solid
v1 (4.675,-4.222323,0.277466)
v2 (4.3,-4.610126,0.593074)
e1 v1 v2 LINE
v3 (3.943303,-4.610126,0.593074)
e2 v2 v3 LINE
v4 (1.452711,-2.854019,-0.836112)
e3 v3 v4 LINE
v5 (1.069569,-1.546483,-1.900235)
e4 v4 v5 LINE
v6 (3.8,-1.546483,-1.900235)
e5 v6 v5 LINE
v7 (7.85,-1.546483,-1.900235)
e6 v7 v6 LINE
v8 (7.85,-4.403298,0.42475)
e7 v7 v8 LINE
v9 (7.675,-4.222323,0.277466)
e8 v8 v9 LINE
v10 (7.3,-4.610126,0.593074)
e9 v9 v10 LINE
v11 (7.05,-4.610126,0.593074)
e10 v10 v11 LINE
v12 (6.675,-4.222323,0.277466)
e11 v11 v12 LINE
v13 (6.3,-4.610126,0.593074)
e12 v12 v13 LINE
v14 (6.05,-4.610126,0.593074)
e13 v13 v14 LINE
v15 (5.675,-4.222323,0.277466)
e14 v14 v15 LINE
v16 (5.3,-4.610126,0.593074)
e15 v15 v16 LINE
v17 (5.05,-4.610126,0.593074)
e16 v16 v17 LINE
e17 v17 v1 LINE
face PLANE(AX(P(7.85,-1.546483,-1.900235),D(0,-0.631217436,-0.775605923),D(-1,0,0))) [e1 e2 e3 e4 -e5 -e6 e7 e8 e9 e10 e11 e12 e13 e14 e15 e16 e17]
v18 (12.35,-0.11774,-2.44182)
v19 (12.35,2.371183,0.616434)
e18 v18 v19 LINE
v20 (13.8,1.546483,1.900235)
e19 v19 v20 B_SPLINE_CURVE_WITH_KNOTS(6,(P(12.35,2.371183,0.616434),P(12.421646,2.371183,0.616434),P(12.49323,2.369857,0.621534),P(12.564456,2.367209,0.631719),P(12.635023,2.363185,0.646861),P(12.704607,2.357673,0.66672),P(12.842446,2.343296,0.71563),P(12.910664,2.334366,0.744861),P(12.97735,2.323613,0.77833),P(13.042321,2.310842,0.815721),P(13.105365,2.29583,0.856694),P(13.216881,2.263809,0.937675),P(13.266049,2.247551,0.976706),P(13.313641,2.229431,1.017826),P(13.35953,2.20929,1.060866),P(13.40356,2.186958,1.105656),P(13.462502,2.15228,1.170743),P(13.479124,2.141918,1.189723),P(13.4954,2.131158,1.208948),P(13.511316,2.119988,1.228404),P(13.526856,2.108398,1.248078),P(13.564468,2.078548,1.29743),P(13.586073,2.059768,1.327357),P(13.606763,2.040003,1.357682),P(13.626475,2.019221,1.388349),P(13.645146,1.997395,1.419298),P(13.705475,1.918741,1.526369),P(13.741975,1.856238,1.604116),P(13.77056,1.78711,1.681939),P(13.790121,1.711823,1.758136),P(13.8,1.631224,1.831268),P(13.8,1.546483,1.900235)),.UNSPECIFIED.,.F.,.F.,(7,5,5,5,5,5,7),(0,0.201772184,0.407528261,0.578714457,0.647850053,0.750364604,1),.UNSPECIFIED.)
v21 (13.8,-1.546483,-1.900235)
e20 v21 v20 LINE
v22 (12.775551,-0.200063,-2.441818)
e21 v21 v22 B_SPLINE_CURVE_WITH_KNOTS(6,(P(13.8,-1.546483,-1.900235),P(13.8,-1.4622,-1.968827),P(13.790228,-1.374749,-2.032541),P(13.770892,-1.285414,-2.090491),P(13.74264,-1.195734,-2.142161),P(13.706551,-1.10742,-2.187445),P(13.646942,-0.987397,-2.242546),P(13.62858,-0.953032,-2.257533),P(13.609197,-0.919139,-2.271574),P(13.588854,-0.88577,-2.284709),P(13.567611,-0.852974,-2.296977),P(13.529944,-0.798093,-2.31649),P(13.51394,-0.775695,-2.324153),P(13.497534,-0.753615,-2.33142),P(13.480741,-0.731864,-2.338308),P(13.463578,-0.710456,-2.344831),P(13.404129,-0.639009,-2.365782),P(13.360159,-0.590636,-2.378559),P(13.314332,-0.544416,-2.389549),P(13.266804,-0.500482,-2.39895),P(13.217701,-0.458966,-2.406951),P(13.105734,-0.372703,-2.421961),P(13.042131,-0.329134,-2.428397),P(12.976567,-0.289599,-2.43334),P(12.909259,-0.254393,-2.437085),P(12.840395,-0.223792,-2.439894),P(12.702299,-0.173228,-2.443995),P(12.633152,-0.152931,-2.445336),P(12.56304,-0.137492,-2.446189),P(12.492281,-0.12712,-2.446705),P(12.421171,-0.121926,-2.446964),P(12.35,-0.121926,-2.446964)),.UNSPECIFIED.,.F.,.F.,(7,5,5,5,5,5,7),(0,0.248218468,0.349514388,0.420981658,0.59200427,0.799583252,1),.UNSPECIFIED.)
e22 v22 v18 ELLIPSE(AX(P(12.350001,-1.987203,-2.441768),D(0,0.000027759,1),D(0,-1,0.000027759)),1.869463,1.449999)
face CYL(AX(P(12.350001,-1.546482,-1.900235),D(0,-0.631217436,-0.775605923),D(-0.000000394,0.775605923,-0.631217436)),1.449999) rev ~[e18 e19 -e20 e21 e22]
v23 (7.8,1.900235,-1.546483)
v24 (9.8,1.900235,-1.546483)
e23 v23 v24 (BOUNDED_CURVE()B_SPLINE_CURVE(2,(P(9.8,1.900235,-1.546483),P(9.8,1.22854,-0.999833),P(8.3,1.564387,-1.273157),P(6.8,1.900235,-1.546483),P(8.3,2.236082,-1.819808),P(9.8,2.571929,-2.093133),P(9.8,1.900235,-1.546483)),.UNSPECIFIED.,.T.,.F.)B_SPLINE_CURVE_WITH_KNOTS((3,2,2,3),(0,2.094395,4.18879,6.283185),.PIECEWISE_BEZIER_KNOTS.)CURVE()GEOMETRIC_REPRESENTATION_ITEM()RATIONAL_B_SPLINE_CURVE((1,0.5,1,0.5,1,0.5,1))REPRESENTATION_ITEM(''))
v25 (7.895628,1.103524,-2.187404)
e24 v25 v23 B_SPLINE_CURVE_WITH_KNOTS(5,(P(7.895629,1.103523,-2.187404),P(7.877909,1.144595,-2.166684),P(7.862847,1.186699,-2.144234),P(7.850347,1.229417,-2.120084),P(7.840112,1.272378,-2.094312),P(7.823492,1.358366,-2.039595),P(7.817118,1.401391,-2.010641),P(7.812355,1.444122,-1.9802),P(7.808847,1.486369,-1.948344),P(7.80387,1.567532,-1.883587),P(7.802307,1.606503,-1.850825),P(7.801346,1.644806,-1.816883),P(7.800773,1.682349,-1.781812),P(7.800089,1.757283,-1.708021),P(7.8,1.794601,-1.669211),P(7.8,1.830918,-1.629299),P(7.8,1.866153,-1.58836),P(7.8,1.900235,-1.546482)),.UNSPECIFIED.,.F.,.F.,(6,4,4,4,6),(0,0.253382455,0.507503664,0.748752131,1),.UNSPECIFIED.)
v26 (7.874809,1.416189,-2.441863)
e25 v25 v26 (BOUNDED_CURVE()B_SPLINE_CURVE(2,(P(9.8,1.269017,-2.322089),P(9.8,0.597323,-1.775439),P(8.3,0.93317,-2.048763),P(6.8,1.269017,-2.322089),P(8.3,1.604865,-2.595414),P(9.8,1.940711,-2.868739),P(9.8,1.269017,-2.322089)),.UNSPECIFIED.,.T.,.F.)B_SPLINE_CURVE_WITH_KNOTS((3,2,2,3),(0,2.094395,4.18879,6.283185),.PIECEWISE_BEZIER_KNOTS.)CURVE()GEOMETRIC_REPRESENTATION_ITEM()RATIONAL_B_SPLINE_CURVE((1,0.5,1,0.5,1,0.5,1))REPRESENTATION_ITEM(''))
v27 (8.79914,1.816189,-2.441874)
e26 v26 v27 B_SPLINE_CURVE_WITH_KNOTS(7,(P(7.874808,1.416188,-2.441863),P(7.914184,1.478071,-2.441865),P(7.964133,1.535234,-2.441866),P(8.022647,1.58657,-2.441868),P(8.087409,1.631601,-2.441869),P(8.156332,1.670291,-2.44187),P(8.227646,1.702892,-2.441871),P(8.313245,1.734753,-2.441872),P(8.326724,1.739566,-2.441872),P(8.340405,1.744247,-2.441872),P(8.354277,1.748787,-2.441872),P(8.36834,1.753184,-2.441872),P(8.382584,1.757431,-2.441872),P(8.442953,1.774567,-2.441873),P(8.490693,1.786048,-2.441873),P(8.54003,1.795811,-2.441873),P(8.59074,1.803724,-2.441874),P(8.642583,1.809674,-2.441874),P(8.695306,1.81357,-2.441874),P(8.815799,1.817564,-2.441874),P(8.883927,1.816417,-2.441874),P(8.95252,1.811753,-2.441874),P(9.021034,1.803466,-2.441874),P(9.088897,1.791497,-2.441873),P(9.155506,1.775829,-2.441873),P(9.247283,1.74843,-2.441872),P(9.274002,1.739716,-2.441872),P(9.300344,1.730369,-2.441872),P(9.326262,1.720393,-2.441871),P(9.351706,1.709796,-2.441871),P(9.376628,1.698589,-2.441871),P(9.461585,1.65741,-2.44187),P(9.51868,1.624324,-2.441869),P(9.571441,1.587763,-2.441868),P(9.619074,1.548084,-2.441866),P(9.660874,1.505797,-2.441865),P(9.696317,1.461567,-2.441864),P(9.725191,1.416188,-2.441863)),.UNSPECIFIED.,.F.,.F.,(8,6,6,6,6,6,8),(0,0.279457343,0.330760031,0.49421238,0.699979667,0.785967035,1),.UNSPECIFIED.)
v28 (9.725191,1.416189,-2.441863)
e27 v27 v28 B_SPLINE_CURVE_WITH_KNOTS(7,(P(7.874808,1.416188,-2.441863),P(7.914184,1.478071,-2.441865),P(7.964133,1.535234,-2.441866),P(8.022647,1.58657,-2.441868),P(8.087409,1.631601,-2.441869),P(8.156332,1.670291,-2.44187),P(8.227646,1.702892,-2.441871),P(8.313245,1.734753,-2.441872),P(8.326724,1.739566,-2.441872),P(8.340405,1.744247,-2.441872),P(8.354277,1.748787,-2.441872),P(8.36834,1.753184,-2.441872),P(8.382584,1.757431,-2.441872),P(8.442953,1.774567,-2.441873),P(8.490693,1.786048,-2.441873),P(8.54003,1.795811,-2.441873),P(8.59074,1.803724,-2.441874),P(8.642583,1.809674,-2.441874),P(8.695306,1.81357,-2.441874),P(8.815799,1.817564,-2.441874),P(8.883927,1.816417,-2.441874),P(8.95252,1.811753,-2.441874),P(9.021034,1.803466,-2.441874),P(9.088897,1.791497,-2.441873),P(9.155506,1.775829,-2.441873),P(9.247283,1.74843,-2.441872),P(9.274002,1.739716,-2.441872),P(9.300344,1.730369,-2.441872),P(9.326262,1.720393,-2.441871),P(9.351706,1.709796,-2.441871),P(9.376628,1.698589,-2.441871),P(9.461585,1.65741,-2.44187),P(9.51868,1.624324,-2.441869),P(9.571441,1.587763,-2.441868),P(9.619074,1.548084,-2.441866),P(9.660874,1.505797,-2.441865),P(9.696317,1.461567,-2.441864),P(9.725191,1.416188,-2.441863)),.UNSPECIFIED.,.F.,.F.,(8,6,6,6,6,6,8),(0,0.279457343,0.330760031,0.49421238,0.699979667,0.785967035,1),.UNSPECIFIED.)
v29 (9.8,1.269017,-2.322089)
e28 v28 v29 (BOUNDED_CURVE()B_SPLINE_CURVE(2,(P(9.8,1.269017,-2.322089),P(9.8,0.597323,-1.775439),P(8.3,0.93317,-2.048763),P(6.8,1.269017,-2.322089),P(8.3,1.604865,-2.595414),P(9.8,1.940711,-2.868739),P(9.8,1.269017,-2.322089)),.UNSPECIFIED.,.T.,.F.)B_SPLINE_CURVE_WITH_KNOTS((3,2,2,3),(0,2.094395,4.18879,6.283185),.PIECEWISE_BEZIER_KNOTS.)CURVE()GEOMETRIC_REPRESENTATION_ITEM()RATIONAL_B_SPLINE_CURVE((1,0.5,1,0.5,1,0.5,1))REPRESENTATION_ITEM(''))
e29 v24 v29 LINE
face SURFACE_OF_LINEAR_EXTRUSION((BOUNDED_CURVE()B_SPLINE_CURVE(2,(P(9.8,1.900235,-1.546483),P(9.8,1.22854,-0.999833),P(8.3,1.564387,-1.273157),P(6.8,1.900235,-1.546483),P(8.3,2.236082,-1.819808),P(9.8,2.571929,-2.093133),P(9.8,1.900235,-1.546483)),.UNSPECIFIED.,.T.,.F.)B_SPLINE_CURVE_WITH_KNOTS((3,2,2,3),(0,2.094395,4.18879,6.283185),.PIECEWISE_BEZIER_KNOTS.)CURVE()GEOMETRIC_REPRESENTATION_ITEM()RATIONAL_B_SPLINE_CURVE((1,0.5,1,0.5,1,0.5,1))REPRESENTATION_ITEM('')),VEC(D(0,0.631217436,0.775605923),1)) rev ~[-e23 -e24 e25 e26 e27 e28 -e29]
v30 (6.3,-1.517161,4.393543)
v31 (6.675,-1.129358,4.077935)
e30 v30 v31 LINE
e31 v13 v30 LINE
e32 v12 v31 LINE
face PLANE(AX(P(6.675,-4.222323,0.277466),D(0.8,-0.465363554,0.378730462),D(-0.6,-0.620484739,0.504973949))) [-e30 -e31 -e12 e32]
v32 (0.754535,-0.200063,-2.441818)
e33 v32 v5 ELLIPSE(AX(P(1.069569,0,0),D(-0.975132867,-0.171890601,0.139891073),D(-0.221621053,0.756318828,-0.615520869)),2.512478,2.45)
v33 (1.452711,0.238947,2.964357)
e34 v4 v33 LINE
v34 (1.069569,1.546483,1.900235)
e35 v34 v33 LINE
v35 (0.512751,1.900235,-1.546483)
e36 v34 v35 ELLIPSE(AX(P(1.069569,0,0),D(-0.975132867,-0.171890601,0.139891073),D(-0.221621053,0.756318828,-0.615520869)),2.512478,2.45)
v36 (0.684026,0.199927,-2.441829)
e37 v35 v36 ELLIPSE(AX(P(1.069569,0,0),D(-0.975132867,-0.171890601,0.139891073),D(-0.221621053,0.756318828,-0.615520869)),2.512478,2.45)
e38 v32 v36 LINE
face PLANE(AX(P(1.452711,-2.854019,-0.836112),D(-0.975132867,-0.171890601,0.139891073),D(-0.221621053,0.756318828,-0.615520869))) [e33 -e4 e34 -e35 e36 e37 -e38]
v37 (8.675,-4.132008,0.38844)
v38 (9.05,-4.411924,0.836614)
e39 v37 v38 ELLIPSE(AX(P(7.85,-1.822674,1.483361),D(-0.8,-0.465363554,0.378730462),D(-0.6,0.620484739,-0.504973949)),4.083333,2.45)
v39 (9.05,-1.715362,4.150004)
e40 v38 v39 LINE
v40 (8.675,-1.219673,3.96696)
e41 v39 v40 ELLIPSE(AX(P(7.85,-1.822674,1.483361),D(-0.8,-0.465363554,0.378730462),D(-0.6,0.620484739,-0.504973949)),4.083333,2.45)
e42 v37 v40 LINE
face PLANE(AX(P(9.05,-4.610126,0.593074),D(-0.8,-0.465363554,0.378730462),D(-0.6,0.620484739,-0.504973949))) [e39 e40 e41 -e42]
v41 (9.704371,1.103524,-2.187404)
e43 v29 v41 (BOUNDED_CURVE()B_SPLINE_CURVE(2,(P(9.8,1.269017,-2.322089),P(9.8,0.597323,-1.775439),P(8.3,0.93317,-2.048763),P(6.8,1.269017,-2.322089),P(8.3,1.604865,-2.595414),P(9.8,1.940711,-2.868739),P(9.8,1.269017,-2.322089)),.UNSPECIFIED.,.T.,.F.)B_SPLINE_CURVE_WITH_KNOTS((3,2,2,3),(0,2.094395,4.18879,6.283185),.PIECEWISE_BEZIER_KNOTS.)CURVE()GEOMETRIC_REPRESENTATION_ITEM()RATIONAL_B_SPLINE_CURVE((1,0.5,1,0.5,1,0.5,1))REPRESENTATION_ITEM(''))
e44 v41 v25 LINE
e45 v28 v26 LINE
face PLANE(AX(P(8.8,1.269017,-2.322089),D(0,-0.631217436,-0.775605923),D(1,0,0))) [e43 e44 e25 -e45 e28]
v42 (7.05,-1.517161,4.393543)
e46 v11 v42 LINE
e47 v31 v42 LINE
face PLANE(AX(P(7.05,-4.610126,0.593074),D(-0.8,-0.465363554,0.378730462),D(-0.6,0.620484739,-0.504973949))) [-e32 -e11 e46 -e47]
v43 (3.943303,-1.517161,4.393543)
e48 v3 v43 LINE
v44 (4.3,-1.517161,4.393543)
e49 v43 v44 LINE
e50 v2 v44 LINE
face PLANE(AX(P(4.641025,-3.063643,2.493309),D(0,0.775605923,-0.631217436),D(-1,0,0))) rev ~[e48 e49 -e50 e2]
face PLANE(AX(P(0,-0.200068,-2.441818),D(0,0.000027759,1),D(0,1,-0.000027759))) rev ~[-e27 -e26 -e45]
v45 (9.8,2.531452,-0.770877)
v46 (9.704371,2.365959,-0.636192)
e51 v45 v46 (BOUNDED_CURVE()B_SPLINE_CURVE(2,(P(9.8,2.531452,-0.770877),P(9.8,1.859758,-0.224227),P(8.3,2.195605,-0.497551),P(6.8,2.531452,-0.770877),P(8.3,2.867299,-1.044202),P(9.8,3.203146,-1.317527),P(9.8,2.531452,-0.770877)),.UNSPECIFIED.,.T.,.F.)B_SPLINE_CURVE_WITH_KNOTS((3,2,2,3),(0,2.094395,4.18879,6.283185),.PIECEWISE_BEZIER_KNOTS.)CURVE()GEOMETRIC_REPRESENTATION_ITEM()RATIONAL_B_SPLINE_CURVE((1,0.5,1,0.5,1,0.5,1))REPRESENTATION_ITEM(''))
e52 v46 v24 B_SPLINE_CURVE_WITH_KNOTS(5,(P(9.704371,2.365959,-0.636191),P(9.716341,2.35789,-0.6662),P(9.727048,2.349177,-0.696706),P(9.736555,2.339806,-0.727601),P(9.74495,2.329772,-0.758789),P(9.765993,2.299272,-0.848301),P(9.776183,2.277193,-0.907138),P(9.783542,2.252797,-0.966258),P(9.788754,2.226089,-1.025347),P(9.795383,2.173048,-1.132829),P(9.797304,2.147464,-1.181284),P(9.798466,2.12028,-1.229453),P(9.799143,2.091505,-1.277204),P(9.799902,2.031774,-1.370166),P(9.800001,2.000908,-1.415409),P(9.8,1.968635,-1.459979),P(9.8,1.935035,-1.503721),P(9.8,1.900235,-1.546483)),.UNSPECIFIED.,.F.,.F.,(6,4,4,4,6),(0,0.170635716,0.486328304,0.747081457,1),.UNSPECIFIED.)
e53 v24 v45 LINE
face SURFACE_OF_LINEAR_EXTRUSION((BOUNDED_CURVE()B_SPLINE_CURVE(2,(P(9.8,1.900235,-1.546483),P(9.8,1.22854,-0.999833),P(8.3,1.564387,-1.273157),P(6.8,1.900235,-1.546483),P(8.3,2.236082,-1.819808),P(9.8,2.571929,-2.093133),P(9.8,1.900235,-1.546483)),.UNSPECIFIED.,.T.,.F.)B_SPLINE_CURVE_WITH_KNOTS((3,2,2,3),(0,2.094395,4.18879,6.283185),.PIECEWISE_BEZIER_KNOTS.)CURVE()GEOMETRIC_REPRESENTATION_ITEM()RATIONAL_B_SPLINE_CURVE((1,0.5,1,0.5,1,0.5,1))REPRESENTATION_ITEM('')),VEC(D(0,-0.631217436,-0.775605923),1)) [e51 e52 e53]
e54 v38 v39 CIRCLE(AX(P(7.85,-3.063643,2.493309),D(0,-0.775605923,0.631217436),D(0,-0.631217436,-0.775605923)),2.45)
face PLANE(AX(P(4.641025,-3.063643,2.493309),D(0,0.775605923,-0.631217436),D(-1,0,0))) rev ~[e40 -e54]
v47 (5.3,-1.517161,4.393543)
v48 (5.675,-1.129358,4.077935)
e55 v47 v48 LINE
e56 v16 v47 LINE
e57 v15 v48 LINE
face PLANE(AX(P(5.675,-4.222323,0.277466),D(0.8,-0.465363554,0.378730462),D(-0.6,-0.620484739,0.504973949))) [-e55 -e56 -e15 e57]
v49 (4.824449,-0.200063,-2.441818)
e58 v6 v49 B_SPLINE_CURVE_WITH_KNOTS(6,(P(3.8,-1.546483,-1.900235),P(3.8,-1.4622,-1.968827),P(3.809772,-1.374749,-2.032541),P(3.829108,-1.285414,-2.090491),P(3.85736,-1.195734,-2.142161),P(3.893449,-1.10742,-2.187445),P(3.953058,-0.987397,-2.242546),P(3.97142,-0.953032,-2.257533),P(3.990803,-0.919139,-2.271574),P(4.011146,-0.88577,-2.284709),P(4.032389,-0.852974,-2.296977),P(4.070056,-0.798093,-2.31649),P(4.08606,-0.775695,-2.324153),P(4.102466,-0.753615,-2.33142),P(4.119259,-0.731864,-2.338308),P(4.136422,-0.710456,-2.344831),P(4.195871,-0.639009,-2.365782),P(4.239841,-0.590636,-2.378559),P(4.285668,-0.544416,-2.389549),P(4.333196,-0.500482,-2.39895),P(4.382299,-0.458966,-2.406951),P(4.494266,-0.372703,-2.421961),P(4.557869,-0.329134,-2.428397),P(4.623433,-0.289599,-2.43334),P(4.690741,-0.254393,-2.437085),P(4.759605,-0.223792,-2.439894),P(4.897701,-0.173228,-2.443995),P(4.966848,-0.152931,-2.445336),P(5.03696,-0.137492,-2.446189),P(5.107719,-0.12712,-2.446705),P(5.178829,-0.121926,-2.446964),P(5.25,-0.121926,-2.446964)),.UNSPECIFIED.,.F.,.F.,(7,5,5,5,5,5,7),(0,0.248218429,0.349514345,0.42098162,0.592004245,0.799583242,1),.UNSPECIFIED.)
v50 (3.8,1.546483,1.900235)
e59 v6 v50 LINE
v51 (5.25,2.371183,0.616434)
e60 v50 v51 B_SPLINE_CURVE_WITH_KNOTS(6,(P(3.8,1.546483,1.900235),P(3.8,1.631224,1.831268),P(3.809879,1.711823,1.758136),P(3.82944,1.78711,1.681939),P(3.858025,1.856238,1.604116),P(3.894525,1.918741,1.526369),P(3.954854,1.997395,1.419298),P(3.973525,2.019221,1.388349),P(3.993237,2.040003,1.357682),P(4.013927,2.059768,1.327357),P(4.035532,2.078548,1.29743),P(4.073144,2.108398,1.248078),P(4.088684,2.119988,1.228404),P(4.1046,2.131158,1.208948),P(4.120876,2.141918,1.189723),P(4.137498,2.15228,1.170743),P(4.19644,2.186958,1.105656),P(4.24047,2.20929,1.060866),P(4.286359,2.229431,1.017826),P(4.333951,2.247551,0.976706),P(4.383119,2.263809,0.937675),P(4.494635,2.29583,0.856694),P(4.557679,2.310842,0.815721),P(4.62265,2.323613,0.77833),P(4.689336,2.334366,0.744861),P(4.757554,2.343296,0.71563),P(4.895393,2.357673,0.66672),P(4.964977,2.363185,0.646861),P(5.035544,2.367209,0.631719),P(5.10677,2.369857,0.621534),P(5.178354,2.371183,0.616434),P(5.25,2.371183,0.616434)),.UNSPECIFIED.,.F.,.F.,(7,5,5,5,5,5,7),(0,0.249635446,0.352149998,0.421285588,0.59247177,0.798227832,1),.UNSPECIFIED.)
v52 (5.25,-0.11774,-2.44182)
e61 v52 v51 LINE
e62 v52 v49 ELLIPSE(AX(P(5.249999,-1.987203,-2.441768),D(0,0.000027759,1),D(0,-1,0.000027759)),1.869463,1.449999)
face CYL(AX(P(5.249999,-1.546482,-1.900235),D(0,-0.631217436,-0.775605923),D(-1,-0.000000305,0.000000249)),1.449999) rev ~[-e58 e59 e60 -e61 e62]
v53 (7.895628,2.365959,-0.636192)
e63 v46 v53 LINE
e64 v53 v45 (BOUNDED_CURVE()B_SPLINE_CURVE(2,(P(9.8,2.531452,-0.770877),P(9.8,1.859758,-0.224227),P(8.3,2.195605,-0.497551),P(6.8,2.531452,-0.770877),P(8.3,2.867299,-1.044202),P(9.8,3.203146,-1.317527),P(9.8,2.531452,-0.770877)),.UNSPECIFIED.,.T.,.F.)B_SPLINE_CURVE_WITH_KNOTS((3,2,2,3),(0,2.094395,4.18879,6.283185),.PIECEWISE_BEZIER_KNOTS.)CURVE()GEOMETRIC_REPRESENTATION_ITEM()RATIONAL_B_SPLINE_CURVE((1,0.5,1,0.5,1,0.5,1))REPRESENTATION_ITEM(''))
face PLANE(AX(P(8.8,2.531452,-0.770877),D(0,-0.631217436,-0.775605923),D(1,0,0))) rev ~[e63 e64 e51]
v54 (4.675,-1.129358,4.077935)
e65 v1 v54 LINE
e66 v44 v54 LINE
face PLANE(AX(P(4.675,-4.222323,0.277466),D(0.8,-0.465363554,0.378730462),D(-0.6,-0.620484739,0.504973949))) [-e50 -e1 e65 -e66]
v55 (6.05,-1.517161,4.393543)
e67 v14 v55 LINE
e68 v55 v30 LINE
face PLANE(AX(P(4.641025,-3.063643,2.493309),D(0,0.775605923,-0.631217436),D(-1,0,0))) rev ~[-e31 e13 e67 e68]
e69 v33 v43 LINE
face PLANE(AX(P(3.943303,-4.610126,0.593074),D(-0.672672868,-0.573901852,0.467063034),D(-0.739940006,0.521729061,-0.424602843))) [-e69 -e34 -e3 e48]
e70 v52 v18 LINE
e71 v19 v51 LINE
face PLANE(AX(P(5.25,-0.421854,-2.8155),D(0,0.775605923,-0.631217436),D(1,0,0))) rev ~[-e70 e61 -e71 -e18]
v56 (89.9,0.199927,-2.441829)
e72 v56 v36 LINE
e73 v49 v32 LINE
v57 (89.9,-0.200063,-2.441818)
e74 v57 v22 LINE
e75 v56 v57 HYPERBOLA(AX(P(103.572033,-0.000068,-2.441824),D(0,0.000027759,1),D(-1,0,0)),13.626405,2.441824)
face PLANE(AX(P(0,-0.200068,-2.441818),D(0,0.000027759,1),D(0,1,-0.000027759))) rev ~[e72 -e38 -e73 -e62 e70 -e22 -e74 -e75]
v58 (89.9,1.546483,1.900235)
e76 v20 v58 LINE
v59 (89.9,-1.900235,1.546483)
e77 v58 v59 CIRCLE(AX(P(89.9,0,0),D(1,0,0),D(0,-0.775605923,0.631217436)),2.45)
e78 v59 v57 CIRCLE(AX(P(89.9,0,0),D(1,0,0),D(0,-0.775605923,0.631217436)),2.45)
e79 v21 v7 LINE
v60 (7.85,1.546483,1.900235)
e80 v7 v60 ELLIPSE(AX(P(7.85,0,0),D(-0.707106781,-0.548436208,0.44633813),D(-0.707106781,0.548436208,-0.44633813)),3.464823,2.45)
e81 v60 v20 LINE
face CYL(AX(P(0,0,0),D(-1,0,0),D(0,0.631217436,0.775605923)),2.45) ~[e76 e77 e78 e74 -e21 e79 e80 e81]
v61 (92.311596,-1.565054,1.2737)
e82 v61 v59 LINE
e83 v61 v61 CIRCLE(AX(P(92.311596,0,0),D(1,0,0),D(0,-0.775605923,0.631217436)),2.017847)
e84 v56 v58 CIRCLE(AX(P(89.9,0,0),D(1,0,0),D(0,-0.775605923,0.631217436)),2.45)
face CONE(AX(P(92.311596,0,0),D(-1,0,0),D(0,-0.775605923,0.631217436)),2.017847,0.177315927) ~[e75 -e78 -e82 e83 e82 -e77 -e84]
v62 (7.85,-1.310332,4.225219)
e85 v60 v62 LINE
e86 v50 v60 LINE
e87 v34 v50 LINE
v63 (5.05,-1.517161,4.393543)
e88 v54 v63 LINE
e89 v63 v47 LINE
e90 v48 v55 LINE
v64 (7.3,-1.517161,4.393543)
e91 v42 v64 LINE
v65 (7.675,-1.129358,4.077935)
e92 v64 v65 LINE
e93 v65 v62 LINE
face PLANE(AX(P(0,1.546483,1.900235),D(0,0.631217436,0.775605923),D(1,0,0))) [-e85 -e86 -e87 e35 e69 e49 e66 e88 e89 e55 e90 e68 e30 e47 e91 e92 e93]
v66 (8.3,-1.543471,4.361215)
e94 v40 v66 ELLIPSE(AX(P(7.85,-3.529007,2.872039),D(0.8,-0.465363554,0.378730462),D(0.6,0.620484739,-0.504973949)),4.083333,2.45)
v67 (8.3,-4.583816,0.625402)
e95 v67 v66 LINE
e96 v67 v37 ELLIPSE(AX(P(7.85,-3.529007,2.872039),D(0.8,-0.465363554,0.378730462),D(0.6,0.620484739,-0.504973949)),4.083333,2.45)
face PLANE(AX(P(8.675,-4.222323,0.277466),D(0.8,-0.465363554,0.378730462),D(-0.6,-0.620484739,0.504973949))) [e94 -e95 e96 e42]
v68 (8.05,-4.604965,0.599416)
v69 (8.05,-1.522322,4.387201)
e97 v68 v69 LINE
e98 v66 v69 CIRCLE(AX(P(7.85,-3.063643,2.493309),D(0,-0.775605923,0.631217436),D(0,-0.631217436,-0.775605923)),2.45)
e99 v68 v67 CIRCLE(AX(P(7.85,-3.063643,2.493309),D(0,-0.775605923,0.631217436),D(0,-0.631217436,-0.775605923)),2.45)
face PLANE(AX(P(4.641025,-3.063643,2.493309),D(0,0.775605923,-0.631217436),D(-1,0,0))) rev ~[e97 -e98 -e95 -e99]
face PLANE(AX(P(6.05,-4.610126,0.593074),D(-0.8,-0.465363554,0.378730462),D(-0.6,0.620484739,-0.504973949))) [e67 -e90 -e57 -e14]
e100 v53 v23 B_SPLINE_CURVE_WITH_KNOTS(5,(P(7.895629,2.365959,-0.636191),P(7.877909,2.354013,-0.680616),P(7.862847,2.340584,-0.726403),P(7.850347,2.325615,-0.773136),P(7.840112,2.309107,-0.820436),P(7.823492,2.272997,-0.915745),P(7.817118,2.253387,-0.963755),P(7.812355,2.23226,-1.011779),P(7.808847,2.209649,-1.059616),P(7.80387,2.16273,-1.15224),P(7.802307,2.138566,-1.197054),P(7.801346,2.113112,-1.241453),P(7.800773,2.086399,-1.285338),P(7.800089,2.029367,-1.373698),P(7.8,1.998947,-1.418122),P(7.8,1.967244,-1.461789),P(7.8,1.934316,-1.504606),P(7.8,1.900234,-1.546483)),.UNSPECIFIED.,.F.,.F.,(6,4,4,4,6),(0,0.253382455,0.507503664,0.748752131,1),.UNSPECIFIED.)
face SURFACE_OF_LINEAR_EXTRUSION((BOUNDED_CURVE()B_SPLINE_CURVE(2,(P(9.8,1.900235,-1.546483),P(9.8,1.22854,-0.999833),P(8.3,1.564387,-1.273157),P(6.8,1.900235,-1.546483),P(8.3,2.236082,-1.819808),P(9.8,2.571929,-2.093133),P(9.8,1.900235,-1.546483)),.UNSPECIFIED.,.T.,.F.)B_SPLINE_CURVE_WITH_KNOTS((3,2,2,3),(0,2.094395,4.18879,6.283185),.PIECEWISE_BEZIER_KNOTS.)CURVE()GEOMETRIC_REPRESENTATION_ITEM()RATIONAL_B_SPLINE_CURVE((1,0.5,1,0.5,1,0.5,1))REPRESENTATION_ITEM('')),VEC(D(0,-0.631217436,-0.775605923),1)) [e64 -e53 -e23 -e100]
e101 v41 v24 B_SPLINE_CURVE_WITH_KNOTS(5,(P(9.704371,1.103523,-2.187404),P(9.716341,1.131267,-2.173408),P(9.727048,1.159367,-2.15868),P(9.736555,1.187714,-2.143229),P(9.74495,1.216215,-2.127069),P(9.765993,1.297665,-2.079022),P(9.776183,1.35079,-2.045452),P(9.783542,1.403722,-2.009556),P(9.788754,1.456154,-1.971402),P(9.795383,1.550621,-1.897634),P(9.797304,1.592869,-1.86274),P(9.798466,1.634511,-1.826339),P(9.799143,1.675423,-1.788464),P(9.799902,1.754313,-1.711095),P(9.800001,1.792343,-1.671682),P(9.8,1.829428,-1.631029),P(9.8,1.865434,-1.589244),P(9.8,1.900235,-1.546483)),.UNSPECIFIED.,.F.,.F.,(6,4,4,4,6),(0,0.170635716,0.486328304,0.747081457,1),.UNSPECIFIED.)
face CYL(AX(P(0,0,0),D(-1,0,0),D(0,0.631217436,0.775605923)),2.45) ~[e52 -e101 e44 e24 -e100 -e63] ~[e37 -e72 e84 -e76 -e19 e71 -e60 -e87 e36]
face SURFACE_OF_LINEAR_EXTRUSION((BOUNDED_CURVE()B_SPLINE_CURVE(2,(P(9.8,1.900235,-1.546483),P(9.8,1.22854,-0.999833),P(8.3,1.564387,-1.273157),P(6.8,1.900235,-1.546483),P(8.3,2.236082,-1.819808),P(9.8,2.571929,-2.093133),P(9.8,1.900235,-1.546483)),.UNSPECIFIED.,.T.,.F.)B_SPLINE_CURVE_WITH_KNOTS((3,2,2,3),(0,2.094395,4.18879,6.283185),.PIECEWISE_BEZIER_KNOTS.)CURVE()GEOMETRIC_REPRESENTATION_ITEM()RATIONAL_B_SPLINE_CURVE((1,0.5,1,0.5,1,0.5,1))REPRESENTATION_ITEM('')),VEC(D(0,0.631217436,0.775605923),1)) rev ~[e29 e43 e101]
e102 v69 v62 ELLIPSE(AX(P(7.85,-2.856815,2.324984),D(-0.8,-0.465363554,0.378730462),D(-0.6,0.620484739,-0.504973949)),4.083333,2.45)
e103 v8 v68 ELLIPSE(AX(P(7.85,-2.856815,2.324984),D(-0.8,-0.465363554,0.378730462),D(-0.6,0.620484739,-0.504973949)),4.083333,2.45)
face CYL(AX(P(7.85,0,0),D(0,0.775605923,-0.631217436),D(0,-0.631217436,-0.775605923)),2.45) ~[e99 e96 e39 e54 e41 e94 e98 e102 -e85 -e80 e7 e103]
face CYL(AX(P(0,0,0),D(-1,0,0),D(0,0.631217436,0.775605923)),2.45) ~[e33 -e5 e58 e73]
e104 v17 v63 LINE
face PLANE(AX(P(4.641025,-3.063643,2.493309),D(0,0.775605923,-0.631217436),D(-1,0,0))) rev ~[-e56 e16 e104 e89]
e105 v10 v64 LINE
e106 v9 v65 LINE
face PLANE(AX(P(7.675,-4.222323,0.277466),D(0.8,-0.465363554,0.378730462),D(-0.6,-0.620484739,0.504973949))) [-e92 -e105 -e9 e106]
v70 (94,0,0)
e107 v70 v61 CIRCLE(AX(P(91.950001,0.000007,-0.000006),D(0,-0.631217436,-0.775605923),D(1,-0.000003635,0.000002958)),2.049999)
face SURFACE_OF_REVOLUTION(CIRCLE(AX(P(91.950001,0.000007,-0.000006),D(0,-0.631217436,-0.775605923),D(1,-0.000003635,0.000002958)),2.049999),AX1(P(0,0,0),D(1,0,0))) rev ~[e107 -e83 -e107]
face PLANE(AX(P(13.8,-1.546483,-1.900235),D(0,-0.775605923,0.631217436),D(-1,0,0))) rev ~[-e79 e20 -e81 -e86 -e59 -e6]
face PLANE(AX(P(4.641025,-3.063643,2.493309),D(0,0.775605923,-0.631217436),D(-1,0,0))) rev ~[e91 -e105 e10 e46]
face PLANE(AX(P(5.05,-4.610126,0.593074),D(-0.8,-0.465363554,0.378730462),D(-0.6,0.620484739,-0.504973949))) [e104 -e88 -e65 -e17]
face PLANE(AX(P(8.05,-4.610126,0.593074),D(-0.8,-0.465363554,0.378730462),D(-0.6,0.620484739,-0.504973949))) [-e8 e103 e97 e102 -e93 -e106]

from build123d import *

# Parameters (mm, degrees)
SKETCH_R             = 2.45
PAD_DEPTH            = 94
PAD001_DEPTH         = 3.95
POCKET_DEPTH         = 5
POCKET001_DEPTH      = 5
PAD002_DEPTH         = 1
PAD002_DEPTH_BACK    = 1
POCKET002_DEPTH      = 10
POCKET003_DEPTH      = 100
POCKET003_DEPTH_BACK = -100
BODY_PLACEMENT_ANGLE = 50.86


with BuildPart() as part:
    # Sketch → Pad (new body)
    with BuildSketch(Plane.YZ):
        Circle(SKETCH_R)
    extrude(amount=PAD_DEPTH)

    # Sketch001 → Pad001 (join)
    with BuildSketch(Plane.XY):
        with BuildLine():
            Line((0, -2.45), (0, 2.45))
            Line((0, 2.45), (7.85, 2.45))
            ThreePointArc((7.85, -2.45), (10.3, 0), (7.85, 2.45))
            Line((7.85, -2.45), (0, -2.45))
        make_face()
    extrude(amount=PAD001_DEPTH)

    # Sketch002 (on Face4 of Pad001) → Pocket (cut)
    with BuildSketch(Plane(origin=(0, -2.45, 0), x_dir=(0, 0, -1), z_dir=(0, -1, 0))):
        Polygon((-3.95, 3.943303), (-1.685825, 1.452711), (2.45, 0.512751), (2.45, -0.487249), (-3.95, -0.487249), align=None)
    extrude(amount=-POCKET_DEPTH, mode=Mode.SUBTRACT)

    # Sketch003 (on Face3 of Pocket) → Pocket001 (cut)
    with BuildSketch(Plane(origin=(0, -2.45, 0), x_dir=(0, 0, -1), z_dir=(0, -1, 0))):
        Polygon((-3.95, 8.3), (-3.95, 8.05), (-3.45, 7.675), (-3.95, 7.3), (-3.95, 7.05), (-3.45, 6.675), (-3.95, 6.3), (-3.95, 6.05), (-3.45, 5.675), (-3.95, 5.3), (-3.95, 5.05), (-3.45, 4.675), (-3.95, 4.3), (-4.95, 4.3), (-4.95, 9.05), (-3.95, 9.05), (-3.45, 8.675), align=None)
    extrude(amount=-POCKET001_DEPTH, mode=Mode.SUBTRACT)

    # Sketch004 → Pad002 (join, two sides)
    with BuildSketch(Plane.XZ) as pad002_sk:
        with BuildLine():
            add(Edge.make_bspline(
                [(9.8, -2.45), (9.8, -1.583975), (8.3, -2.016987), (6.8, -2.45), (8.3, -2.883013), (9.8, -3.316025), (9.8, -2.45)],
                knots=[0, 0, 0, 2.094395, 2.094395, 4.18879, 4.18879, 6.283185, 6.283185, 6.283185], degree=2, weights=[1, 0.5, 1, 0.5, 1, 0.5, 1]))
        make_face()
    extrude(amount=PAD002_DEPTH)
    extrude(pad002_sk.sketch, amount=-PAD002_DEPTH_BACK)

    # Sketch006 (on Face2 of Pad002) → Pocket002 (cut)
    with BuildSketch(Plane(origin=(0, -2.45, 0), x_dir=(0, 0, -1), z_dir=(0, -1, 0))):
        with BuildLine():
            Line((1.45, 5.25), (1.45, 12.35))
            ThreePointArc((1.45, 12.35), (1.025305, 13.375305), (0, 13.8))
            Line((0, 13.8), (0, 3.8))
            ThreePointArc((0, 3.8), (1.025305, 4.224695), (1.45, 5.25))
        make_face()
    extrude(amount=-POCKET002_DEPTH, mode=Mode.SUBTRACT)

    # Sketch005 → Groove (revolve, cut)
    with BuildSketch(Plane.XZ):
        with BuildLine():
            ThreePointArc((94, 0), (93.52222, 1.315522), (92.311596, 2.017847))
            Line((92.311596, 2.017847), (89.9, 2.45))
            Line((89.9, 2.45), (94, 2.45))
            Line((94, 2.45), (95, 2.45))
            Line((95, 2.45), (95, 0))
            Line((95, 0), (94, 0))
        make_face()
    revolve(axis=Axis((0, 0, 0), (1, 0, 0)), mode=Mode.SUBTRACT)

    # Sketch007 → Pocket003 (cut, two sides)
    with BuildSketch(Plane.YZ) as pocket003_sk:
        Polygon((-0.747522, -2.95), (-2.020175, -2.95), (-2.020175, -1.386144), align=None)
    extrude(amount=-POCKET003_DEPTH, mode=Mode.SUBTRACT)
    extrude(pocket003_sk.sketch, amount=-POCKET003_DEPTH_BACK, mode=Mode.SUBTRACT)


with BuildPart() as part_1:
    # Body placement: moved
    add(part.part.rotate(Axis((0, 0, 0), (1, 0, 0)), BODY_PLACEMENT_ANGLE))


solid = part_1.part
